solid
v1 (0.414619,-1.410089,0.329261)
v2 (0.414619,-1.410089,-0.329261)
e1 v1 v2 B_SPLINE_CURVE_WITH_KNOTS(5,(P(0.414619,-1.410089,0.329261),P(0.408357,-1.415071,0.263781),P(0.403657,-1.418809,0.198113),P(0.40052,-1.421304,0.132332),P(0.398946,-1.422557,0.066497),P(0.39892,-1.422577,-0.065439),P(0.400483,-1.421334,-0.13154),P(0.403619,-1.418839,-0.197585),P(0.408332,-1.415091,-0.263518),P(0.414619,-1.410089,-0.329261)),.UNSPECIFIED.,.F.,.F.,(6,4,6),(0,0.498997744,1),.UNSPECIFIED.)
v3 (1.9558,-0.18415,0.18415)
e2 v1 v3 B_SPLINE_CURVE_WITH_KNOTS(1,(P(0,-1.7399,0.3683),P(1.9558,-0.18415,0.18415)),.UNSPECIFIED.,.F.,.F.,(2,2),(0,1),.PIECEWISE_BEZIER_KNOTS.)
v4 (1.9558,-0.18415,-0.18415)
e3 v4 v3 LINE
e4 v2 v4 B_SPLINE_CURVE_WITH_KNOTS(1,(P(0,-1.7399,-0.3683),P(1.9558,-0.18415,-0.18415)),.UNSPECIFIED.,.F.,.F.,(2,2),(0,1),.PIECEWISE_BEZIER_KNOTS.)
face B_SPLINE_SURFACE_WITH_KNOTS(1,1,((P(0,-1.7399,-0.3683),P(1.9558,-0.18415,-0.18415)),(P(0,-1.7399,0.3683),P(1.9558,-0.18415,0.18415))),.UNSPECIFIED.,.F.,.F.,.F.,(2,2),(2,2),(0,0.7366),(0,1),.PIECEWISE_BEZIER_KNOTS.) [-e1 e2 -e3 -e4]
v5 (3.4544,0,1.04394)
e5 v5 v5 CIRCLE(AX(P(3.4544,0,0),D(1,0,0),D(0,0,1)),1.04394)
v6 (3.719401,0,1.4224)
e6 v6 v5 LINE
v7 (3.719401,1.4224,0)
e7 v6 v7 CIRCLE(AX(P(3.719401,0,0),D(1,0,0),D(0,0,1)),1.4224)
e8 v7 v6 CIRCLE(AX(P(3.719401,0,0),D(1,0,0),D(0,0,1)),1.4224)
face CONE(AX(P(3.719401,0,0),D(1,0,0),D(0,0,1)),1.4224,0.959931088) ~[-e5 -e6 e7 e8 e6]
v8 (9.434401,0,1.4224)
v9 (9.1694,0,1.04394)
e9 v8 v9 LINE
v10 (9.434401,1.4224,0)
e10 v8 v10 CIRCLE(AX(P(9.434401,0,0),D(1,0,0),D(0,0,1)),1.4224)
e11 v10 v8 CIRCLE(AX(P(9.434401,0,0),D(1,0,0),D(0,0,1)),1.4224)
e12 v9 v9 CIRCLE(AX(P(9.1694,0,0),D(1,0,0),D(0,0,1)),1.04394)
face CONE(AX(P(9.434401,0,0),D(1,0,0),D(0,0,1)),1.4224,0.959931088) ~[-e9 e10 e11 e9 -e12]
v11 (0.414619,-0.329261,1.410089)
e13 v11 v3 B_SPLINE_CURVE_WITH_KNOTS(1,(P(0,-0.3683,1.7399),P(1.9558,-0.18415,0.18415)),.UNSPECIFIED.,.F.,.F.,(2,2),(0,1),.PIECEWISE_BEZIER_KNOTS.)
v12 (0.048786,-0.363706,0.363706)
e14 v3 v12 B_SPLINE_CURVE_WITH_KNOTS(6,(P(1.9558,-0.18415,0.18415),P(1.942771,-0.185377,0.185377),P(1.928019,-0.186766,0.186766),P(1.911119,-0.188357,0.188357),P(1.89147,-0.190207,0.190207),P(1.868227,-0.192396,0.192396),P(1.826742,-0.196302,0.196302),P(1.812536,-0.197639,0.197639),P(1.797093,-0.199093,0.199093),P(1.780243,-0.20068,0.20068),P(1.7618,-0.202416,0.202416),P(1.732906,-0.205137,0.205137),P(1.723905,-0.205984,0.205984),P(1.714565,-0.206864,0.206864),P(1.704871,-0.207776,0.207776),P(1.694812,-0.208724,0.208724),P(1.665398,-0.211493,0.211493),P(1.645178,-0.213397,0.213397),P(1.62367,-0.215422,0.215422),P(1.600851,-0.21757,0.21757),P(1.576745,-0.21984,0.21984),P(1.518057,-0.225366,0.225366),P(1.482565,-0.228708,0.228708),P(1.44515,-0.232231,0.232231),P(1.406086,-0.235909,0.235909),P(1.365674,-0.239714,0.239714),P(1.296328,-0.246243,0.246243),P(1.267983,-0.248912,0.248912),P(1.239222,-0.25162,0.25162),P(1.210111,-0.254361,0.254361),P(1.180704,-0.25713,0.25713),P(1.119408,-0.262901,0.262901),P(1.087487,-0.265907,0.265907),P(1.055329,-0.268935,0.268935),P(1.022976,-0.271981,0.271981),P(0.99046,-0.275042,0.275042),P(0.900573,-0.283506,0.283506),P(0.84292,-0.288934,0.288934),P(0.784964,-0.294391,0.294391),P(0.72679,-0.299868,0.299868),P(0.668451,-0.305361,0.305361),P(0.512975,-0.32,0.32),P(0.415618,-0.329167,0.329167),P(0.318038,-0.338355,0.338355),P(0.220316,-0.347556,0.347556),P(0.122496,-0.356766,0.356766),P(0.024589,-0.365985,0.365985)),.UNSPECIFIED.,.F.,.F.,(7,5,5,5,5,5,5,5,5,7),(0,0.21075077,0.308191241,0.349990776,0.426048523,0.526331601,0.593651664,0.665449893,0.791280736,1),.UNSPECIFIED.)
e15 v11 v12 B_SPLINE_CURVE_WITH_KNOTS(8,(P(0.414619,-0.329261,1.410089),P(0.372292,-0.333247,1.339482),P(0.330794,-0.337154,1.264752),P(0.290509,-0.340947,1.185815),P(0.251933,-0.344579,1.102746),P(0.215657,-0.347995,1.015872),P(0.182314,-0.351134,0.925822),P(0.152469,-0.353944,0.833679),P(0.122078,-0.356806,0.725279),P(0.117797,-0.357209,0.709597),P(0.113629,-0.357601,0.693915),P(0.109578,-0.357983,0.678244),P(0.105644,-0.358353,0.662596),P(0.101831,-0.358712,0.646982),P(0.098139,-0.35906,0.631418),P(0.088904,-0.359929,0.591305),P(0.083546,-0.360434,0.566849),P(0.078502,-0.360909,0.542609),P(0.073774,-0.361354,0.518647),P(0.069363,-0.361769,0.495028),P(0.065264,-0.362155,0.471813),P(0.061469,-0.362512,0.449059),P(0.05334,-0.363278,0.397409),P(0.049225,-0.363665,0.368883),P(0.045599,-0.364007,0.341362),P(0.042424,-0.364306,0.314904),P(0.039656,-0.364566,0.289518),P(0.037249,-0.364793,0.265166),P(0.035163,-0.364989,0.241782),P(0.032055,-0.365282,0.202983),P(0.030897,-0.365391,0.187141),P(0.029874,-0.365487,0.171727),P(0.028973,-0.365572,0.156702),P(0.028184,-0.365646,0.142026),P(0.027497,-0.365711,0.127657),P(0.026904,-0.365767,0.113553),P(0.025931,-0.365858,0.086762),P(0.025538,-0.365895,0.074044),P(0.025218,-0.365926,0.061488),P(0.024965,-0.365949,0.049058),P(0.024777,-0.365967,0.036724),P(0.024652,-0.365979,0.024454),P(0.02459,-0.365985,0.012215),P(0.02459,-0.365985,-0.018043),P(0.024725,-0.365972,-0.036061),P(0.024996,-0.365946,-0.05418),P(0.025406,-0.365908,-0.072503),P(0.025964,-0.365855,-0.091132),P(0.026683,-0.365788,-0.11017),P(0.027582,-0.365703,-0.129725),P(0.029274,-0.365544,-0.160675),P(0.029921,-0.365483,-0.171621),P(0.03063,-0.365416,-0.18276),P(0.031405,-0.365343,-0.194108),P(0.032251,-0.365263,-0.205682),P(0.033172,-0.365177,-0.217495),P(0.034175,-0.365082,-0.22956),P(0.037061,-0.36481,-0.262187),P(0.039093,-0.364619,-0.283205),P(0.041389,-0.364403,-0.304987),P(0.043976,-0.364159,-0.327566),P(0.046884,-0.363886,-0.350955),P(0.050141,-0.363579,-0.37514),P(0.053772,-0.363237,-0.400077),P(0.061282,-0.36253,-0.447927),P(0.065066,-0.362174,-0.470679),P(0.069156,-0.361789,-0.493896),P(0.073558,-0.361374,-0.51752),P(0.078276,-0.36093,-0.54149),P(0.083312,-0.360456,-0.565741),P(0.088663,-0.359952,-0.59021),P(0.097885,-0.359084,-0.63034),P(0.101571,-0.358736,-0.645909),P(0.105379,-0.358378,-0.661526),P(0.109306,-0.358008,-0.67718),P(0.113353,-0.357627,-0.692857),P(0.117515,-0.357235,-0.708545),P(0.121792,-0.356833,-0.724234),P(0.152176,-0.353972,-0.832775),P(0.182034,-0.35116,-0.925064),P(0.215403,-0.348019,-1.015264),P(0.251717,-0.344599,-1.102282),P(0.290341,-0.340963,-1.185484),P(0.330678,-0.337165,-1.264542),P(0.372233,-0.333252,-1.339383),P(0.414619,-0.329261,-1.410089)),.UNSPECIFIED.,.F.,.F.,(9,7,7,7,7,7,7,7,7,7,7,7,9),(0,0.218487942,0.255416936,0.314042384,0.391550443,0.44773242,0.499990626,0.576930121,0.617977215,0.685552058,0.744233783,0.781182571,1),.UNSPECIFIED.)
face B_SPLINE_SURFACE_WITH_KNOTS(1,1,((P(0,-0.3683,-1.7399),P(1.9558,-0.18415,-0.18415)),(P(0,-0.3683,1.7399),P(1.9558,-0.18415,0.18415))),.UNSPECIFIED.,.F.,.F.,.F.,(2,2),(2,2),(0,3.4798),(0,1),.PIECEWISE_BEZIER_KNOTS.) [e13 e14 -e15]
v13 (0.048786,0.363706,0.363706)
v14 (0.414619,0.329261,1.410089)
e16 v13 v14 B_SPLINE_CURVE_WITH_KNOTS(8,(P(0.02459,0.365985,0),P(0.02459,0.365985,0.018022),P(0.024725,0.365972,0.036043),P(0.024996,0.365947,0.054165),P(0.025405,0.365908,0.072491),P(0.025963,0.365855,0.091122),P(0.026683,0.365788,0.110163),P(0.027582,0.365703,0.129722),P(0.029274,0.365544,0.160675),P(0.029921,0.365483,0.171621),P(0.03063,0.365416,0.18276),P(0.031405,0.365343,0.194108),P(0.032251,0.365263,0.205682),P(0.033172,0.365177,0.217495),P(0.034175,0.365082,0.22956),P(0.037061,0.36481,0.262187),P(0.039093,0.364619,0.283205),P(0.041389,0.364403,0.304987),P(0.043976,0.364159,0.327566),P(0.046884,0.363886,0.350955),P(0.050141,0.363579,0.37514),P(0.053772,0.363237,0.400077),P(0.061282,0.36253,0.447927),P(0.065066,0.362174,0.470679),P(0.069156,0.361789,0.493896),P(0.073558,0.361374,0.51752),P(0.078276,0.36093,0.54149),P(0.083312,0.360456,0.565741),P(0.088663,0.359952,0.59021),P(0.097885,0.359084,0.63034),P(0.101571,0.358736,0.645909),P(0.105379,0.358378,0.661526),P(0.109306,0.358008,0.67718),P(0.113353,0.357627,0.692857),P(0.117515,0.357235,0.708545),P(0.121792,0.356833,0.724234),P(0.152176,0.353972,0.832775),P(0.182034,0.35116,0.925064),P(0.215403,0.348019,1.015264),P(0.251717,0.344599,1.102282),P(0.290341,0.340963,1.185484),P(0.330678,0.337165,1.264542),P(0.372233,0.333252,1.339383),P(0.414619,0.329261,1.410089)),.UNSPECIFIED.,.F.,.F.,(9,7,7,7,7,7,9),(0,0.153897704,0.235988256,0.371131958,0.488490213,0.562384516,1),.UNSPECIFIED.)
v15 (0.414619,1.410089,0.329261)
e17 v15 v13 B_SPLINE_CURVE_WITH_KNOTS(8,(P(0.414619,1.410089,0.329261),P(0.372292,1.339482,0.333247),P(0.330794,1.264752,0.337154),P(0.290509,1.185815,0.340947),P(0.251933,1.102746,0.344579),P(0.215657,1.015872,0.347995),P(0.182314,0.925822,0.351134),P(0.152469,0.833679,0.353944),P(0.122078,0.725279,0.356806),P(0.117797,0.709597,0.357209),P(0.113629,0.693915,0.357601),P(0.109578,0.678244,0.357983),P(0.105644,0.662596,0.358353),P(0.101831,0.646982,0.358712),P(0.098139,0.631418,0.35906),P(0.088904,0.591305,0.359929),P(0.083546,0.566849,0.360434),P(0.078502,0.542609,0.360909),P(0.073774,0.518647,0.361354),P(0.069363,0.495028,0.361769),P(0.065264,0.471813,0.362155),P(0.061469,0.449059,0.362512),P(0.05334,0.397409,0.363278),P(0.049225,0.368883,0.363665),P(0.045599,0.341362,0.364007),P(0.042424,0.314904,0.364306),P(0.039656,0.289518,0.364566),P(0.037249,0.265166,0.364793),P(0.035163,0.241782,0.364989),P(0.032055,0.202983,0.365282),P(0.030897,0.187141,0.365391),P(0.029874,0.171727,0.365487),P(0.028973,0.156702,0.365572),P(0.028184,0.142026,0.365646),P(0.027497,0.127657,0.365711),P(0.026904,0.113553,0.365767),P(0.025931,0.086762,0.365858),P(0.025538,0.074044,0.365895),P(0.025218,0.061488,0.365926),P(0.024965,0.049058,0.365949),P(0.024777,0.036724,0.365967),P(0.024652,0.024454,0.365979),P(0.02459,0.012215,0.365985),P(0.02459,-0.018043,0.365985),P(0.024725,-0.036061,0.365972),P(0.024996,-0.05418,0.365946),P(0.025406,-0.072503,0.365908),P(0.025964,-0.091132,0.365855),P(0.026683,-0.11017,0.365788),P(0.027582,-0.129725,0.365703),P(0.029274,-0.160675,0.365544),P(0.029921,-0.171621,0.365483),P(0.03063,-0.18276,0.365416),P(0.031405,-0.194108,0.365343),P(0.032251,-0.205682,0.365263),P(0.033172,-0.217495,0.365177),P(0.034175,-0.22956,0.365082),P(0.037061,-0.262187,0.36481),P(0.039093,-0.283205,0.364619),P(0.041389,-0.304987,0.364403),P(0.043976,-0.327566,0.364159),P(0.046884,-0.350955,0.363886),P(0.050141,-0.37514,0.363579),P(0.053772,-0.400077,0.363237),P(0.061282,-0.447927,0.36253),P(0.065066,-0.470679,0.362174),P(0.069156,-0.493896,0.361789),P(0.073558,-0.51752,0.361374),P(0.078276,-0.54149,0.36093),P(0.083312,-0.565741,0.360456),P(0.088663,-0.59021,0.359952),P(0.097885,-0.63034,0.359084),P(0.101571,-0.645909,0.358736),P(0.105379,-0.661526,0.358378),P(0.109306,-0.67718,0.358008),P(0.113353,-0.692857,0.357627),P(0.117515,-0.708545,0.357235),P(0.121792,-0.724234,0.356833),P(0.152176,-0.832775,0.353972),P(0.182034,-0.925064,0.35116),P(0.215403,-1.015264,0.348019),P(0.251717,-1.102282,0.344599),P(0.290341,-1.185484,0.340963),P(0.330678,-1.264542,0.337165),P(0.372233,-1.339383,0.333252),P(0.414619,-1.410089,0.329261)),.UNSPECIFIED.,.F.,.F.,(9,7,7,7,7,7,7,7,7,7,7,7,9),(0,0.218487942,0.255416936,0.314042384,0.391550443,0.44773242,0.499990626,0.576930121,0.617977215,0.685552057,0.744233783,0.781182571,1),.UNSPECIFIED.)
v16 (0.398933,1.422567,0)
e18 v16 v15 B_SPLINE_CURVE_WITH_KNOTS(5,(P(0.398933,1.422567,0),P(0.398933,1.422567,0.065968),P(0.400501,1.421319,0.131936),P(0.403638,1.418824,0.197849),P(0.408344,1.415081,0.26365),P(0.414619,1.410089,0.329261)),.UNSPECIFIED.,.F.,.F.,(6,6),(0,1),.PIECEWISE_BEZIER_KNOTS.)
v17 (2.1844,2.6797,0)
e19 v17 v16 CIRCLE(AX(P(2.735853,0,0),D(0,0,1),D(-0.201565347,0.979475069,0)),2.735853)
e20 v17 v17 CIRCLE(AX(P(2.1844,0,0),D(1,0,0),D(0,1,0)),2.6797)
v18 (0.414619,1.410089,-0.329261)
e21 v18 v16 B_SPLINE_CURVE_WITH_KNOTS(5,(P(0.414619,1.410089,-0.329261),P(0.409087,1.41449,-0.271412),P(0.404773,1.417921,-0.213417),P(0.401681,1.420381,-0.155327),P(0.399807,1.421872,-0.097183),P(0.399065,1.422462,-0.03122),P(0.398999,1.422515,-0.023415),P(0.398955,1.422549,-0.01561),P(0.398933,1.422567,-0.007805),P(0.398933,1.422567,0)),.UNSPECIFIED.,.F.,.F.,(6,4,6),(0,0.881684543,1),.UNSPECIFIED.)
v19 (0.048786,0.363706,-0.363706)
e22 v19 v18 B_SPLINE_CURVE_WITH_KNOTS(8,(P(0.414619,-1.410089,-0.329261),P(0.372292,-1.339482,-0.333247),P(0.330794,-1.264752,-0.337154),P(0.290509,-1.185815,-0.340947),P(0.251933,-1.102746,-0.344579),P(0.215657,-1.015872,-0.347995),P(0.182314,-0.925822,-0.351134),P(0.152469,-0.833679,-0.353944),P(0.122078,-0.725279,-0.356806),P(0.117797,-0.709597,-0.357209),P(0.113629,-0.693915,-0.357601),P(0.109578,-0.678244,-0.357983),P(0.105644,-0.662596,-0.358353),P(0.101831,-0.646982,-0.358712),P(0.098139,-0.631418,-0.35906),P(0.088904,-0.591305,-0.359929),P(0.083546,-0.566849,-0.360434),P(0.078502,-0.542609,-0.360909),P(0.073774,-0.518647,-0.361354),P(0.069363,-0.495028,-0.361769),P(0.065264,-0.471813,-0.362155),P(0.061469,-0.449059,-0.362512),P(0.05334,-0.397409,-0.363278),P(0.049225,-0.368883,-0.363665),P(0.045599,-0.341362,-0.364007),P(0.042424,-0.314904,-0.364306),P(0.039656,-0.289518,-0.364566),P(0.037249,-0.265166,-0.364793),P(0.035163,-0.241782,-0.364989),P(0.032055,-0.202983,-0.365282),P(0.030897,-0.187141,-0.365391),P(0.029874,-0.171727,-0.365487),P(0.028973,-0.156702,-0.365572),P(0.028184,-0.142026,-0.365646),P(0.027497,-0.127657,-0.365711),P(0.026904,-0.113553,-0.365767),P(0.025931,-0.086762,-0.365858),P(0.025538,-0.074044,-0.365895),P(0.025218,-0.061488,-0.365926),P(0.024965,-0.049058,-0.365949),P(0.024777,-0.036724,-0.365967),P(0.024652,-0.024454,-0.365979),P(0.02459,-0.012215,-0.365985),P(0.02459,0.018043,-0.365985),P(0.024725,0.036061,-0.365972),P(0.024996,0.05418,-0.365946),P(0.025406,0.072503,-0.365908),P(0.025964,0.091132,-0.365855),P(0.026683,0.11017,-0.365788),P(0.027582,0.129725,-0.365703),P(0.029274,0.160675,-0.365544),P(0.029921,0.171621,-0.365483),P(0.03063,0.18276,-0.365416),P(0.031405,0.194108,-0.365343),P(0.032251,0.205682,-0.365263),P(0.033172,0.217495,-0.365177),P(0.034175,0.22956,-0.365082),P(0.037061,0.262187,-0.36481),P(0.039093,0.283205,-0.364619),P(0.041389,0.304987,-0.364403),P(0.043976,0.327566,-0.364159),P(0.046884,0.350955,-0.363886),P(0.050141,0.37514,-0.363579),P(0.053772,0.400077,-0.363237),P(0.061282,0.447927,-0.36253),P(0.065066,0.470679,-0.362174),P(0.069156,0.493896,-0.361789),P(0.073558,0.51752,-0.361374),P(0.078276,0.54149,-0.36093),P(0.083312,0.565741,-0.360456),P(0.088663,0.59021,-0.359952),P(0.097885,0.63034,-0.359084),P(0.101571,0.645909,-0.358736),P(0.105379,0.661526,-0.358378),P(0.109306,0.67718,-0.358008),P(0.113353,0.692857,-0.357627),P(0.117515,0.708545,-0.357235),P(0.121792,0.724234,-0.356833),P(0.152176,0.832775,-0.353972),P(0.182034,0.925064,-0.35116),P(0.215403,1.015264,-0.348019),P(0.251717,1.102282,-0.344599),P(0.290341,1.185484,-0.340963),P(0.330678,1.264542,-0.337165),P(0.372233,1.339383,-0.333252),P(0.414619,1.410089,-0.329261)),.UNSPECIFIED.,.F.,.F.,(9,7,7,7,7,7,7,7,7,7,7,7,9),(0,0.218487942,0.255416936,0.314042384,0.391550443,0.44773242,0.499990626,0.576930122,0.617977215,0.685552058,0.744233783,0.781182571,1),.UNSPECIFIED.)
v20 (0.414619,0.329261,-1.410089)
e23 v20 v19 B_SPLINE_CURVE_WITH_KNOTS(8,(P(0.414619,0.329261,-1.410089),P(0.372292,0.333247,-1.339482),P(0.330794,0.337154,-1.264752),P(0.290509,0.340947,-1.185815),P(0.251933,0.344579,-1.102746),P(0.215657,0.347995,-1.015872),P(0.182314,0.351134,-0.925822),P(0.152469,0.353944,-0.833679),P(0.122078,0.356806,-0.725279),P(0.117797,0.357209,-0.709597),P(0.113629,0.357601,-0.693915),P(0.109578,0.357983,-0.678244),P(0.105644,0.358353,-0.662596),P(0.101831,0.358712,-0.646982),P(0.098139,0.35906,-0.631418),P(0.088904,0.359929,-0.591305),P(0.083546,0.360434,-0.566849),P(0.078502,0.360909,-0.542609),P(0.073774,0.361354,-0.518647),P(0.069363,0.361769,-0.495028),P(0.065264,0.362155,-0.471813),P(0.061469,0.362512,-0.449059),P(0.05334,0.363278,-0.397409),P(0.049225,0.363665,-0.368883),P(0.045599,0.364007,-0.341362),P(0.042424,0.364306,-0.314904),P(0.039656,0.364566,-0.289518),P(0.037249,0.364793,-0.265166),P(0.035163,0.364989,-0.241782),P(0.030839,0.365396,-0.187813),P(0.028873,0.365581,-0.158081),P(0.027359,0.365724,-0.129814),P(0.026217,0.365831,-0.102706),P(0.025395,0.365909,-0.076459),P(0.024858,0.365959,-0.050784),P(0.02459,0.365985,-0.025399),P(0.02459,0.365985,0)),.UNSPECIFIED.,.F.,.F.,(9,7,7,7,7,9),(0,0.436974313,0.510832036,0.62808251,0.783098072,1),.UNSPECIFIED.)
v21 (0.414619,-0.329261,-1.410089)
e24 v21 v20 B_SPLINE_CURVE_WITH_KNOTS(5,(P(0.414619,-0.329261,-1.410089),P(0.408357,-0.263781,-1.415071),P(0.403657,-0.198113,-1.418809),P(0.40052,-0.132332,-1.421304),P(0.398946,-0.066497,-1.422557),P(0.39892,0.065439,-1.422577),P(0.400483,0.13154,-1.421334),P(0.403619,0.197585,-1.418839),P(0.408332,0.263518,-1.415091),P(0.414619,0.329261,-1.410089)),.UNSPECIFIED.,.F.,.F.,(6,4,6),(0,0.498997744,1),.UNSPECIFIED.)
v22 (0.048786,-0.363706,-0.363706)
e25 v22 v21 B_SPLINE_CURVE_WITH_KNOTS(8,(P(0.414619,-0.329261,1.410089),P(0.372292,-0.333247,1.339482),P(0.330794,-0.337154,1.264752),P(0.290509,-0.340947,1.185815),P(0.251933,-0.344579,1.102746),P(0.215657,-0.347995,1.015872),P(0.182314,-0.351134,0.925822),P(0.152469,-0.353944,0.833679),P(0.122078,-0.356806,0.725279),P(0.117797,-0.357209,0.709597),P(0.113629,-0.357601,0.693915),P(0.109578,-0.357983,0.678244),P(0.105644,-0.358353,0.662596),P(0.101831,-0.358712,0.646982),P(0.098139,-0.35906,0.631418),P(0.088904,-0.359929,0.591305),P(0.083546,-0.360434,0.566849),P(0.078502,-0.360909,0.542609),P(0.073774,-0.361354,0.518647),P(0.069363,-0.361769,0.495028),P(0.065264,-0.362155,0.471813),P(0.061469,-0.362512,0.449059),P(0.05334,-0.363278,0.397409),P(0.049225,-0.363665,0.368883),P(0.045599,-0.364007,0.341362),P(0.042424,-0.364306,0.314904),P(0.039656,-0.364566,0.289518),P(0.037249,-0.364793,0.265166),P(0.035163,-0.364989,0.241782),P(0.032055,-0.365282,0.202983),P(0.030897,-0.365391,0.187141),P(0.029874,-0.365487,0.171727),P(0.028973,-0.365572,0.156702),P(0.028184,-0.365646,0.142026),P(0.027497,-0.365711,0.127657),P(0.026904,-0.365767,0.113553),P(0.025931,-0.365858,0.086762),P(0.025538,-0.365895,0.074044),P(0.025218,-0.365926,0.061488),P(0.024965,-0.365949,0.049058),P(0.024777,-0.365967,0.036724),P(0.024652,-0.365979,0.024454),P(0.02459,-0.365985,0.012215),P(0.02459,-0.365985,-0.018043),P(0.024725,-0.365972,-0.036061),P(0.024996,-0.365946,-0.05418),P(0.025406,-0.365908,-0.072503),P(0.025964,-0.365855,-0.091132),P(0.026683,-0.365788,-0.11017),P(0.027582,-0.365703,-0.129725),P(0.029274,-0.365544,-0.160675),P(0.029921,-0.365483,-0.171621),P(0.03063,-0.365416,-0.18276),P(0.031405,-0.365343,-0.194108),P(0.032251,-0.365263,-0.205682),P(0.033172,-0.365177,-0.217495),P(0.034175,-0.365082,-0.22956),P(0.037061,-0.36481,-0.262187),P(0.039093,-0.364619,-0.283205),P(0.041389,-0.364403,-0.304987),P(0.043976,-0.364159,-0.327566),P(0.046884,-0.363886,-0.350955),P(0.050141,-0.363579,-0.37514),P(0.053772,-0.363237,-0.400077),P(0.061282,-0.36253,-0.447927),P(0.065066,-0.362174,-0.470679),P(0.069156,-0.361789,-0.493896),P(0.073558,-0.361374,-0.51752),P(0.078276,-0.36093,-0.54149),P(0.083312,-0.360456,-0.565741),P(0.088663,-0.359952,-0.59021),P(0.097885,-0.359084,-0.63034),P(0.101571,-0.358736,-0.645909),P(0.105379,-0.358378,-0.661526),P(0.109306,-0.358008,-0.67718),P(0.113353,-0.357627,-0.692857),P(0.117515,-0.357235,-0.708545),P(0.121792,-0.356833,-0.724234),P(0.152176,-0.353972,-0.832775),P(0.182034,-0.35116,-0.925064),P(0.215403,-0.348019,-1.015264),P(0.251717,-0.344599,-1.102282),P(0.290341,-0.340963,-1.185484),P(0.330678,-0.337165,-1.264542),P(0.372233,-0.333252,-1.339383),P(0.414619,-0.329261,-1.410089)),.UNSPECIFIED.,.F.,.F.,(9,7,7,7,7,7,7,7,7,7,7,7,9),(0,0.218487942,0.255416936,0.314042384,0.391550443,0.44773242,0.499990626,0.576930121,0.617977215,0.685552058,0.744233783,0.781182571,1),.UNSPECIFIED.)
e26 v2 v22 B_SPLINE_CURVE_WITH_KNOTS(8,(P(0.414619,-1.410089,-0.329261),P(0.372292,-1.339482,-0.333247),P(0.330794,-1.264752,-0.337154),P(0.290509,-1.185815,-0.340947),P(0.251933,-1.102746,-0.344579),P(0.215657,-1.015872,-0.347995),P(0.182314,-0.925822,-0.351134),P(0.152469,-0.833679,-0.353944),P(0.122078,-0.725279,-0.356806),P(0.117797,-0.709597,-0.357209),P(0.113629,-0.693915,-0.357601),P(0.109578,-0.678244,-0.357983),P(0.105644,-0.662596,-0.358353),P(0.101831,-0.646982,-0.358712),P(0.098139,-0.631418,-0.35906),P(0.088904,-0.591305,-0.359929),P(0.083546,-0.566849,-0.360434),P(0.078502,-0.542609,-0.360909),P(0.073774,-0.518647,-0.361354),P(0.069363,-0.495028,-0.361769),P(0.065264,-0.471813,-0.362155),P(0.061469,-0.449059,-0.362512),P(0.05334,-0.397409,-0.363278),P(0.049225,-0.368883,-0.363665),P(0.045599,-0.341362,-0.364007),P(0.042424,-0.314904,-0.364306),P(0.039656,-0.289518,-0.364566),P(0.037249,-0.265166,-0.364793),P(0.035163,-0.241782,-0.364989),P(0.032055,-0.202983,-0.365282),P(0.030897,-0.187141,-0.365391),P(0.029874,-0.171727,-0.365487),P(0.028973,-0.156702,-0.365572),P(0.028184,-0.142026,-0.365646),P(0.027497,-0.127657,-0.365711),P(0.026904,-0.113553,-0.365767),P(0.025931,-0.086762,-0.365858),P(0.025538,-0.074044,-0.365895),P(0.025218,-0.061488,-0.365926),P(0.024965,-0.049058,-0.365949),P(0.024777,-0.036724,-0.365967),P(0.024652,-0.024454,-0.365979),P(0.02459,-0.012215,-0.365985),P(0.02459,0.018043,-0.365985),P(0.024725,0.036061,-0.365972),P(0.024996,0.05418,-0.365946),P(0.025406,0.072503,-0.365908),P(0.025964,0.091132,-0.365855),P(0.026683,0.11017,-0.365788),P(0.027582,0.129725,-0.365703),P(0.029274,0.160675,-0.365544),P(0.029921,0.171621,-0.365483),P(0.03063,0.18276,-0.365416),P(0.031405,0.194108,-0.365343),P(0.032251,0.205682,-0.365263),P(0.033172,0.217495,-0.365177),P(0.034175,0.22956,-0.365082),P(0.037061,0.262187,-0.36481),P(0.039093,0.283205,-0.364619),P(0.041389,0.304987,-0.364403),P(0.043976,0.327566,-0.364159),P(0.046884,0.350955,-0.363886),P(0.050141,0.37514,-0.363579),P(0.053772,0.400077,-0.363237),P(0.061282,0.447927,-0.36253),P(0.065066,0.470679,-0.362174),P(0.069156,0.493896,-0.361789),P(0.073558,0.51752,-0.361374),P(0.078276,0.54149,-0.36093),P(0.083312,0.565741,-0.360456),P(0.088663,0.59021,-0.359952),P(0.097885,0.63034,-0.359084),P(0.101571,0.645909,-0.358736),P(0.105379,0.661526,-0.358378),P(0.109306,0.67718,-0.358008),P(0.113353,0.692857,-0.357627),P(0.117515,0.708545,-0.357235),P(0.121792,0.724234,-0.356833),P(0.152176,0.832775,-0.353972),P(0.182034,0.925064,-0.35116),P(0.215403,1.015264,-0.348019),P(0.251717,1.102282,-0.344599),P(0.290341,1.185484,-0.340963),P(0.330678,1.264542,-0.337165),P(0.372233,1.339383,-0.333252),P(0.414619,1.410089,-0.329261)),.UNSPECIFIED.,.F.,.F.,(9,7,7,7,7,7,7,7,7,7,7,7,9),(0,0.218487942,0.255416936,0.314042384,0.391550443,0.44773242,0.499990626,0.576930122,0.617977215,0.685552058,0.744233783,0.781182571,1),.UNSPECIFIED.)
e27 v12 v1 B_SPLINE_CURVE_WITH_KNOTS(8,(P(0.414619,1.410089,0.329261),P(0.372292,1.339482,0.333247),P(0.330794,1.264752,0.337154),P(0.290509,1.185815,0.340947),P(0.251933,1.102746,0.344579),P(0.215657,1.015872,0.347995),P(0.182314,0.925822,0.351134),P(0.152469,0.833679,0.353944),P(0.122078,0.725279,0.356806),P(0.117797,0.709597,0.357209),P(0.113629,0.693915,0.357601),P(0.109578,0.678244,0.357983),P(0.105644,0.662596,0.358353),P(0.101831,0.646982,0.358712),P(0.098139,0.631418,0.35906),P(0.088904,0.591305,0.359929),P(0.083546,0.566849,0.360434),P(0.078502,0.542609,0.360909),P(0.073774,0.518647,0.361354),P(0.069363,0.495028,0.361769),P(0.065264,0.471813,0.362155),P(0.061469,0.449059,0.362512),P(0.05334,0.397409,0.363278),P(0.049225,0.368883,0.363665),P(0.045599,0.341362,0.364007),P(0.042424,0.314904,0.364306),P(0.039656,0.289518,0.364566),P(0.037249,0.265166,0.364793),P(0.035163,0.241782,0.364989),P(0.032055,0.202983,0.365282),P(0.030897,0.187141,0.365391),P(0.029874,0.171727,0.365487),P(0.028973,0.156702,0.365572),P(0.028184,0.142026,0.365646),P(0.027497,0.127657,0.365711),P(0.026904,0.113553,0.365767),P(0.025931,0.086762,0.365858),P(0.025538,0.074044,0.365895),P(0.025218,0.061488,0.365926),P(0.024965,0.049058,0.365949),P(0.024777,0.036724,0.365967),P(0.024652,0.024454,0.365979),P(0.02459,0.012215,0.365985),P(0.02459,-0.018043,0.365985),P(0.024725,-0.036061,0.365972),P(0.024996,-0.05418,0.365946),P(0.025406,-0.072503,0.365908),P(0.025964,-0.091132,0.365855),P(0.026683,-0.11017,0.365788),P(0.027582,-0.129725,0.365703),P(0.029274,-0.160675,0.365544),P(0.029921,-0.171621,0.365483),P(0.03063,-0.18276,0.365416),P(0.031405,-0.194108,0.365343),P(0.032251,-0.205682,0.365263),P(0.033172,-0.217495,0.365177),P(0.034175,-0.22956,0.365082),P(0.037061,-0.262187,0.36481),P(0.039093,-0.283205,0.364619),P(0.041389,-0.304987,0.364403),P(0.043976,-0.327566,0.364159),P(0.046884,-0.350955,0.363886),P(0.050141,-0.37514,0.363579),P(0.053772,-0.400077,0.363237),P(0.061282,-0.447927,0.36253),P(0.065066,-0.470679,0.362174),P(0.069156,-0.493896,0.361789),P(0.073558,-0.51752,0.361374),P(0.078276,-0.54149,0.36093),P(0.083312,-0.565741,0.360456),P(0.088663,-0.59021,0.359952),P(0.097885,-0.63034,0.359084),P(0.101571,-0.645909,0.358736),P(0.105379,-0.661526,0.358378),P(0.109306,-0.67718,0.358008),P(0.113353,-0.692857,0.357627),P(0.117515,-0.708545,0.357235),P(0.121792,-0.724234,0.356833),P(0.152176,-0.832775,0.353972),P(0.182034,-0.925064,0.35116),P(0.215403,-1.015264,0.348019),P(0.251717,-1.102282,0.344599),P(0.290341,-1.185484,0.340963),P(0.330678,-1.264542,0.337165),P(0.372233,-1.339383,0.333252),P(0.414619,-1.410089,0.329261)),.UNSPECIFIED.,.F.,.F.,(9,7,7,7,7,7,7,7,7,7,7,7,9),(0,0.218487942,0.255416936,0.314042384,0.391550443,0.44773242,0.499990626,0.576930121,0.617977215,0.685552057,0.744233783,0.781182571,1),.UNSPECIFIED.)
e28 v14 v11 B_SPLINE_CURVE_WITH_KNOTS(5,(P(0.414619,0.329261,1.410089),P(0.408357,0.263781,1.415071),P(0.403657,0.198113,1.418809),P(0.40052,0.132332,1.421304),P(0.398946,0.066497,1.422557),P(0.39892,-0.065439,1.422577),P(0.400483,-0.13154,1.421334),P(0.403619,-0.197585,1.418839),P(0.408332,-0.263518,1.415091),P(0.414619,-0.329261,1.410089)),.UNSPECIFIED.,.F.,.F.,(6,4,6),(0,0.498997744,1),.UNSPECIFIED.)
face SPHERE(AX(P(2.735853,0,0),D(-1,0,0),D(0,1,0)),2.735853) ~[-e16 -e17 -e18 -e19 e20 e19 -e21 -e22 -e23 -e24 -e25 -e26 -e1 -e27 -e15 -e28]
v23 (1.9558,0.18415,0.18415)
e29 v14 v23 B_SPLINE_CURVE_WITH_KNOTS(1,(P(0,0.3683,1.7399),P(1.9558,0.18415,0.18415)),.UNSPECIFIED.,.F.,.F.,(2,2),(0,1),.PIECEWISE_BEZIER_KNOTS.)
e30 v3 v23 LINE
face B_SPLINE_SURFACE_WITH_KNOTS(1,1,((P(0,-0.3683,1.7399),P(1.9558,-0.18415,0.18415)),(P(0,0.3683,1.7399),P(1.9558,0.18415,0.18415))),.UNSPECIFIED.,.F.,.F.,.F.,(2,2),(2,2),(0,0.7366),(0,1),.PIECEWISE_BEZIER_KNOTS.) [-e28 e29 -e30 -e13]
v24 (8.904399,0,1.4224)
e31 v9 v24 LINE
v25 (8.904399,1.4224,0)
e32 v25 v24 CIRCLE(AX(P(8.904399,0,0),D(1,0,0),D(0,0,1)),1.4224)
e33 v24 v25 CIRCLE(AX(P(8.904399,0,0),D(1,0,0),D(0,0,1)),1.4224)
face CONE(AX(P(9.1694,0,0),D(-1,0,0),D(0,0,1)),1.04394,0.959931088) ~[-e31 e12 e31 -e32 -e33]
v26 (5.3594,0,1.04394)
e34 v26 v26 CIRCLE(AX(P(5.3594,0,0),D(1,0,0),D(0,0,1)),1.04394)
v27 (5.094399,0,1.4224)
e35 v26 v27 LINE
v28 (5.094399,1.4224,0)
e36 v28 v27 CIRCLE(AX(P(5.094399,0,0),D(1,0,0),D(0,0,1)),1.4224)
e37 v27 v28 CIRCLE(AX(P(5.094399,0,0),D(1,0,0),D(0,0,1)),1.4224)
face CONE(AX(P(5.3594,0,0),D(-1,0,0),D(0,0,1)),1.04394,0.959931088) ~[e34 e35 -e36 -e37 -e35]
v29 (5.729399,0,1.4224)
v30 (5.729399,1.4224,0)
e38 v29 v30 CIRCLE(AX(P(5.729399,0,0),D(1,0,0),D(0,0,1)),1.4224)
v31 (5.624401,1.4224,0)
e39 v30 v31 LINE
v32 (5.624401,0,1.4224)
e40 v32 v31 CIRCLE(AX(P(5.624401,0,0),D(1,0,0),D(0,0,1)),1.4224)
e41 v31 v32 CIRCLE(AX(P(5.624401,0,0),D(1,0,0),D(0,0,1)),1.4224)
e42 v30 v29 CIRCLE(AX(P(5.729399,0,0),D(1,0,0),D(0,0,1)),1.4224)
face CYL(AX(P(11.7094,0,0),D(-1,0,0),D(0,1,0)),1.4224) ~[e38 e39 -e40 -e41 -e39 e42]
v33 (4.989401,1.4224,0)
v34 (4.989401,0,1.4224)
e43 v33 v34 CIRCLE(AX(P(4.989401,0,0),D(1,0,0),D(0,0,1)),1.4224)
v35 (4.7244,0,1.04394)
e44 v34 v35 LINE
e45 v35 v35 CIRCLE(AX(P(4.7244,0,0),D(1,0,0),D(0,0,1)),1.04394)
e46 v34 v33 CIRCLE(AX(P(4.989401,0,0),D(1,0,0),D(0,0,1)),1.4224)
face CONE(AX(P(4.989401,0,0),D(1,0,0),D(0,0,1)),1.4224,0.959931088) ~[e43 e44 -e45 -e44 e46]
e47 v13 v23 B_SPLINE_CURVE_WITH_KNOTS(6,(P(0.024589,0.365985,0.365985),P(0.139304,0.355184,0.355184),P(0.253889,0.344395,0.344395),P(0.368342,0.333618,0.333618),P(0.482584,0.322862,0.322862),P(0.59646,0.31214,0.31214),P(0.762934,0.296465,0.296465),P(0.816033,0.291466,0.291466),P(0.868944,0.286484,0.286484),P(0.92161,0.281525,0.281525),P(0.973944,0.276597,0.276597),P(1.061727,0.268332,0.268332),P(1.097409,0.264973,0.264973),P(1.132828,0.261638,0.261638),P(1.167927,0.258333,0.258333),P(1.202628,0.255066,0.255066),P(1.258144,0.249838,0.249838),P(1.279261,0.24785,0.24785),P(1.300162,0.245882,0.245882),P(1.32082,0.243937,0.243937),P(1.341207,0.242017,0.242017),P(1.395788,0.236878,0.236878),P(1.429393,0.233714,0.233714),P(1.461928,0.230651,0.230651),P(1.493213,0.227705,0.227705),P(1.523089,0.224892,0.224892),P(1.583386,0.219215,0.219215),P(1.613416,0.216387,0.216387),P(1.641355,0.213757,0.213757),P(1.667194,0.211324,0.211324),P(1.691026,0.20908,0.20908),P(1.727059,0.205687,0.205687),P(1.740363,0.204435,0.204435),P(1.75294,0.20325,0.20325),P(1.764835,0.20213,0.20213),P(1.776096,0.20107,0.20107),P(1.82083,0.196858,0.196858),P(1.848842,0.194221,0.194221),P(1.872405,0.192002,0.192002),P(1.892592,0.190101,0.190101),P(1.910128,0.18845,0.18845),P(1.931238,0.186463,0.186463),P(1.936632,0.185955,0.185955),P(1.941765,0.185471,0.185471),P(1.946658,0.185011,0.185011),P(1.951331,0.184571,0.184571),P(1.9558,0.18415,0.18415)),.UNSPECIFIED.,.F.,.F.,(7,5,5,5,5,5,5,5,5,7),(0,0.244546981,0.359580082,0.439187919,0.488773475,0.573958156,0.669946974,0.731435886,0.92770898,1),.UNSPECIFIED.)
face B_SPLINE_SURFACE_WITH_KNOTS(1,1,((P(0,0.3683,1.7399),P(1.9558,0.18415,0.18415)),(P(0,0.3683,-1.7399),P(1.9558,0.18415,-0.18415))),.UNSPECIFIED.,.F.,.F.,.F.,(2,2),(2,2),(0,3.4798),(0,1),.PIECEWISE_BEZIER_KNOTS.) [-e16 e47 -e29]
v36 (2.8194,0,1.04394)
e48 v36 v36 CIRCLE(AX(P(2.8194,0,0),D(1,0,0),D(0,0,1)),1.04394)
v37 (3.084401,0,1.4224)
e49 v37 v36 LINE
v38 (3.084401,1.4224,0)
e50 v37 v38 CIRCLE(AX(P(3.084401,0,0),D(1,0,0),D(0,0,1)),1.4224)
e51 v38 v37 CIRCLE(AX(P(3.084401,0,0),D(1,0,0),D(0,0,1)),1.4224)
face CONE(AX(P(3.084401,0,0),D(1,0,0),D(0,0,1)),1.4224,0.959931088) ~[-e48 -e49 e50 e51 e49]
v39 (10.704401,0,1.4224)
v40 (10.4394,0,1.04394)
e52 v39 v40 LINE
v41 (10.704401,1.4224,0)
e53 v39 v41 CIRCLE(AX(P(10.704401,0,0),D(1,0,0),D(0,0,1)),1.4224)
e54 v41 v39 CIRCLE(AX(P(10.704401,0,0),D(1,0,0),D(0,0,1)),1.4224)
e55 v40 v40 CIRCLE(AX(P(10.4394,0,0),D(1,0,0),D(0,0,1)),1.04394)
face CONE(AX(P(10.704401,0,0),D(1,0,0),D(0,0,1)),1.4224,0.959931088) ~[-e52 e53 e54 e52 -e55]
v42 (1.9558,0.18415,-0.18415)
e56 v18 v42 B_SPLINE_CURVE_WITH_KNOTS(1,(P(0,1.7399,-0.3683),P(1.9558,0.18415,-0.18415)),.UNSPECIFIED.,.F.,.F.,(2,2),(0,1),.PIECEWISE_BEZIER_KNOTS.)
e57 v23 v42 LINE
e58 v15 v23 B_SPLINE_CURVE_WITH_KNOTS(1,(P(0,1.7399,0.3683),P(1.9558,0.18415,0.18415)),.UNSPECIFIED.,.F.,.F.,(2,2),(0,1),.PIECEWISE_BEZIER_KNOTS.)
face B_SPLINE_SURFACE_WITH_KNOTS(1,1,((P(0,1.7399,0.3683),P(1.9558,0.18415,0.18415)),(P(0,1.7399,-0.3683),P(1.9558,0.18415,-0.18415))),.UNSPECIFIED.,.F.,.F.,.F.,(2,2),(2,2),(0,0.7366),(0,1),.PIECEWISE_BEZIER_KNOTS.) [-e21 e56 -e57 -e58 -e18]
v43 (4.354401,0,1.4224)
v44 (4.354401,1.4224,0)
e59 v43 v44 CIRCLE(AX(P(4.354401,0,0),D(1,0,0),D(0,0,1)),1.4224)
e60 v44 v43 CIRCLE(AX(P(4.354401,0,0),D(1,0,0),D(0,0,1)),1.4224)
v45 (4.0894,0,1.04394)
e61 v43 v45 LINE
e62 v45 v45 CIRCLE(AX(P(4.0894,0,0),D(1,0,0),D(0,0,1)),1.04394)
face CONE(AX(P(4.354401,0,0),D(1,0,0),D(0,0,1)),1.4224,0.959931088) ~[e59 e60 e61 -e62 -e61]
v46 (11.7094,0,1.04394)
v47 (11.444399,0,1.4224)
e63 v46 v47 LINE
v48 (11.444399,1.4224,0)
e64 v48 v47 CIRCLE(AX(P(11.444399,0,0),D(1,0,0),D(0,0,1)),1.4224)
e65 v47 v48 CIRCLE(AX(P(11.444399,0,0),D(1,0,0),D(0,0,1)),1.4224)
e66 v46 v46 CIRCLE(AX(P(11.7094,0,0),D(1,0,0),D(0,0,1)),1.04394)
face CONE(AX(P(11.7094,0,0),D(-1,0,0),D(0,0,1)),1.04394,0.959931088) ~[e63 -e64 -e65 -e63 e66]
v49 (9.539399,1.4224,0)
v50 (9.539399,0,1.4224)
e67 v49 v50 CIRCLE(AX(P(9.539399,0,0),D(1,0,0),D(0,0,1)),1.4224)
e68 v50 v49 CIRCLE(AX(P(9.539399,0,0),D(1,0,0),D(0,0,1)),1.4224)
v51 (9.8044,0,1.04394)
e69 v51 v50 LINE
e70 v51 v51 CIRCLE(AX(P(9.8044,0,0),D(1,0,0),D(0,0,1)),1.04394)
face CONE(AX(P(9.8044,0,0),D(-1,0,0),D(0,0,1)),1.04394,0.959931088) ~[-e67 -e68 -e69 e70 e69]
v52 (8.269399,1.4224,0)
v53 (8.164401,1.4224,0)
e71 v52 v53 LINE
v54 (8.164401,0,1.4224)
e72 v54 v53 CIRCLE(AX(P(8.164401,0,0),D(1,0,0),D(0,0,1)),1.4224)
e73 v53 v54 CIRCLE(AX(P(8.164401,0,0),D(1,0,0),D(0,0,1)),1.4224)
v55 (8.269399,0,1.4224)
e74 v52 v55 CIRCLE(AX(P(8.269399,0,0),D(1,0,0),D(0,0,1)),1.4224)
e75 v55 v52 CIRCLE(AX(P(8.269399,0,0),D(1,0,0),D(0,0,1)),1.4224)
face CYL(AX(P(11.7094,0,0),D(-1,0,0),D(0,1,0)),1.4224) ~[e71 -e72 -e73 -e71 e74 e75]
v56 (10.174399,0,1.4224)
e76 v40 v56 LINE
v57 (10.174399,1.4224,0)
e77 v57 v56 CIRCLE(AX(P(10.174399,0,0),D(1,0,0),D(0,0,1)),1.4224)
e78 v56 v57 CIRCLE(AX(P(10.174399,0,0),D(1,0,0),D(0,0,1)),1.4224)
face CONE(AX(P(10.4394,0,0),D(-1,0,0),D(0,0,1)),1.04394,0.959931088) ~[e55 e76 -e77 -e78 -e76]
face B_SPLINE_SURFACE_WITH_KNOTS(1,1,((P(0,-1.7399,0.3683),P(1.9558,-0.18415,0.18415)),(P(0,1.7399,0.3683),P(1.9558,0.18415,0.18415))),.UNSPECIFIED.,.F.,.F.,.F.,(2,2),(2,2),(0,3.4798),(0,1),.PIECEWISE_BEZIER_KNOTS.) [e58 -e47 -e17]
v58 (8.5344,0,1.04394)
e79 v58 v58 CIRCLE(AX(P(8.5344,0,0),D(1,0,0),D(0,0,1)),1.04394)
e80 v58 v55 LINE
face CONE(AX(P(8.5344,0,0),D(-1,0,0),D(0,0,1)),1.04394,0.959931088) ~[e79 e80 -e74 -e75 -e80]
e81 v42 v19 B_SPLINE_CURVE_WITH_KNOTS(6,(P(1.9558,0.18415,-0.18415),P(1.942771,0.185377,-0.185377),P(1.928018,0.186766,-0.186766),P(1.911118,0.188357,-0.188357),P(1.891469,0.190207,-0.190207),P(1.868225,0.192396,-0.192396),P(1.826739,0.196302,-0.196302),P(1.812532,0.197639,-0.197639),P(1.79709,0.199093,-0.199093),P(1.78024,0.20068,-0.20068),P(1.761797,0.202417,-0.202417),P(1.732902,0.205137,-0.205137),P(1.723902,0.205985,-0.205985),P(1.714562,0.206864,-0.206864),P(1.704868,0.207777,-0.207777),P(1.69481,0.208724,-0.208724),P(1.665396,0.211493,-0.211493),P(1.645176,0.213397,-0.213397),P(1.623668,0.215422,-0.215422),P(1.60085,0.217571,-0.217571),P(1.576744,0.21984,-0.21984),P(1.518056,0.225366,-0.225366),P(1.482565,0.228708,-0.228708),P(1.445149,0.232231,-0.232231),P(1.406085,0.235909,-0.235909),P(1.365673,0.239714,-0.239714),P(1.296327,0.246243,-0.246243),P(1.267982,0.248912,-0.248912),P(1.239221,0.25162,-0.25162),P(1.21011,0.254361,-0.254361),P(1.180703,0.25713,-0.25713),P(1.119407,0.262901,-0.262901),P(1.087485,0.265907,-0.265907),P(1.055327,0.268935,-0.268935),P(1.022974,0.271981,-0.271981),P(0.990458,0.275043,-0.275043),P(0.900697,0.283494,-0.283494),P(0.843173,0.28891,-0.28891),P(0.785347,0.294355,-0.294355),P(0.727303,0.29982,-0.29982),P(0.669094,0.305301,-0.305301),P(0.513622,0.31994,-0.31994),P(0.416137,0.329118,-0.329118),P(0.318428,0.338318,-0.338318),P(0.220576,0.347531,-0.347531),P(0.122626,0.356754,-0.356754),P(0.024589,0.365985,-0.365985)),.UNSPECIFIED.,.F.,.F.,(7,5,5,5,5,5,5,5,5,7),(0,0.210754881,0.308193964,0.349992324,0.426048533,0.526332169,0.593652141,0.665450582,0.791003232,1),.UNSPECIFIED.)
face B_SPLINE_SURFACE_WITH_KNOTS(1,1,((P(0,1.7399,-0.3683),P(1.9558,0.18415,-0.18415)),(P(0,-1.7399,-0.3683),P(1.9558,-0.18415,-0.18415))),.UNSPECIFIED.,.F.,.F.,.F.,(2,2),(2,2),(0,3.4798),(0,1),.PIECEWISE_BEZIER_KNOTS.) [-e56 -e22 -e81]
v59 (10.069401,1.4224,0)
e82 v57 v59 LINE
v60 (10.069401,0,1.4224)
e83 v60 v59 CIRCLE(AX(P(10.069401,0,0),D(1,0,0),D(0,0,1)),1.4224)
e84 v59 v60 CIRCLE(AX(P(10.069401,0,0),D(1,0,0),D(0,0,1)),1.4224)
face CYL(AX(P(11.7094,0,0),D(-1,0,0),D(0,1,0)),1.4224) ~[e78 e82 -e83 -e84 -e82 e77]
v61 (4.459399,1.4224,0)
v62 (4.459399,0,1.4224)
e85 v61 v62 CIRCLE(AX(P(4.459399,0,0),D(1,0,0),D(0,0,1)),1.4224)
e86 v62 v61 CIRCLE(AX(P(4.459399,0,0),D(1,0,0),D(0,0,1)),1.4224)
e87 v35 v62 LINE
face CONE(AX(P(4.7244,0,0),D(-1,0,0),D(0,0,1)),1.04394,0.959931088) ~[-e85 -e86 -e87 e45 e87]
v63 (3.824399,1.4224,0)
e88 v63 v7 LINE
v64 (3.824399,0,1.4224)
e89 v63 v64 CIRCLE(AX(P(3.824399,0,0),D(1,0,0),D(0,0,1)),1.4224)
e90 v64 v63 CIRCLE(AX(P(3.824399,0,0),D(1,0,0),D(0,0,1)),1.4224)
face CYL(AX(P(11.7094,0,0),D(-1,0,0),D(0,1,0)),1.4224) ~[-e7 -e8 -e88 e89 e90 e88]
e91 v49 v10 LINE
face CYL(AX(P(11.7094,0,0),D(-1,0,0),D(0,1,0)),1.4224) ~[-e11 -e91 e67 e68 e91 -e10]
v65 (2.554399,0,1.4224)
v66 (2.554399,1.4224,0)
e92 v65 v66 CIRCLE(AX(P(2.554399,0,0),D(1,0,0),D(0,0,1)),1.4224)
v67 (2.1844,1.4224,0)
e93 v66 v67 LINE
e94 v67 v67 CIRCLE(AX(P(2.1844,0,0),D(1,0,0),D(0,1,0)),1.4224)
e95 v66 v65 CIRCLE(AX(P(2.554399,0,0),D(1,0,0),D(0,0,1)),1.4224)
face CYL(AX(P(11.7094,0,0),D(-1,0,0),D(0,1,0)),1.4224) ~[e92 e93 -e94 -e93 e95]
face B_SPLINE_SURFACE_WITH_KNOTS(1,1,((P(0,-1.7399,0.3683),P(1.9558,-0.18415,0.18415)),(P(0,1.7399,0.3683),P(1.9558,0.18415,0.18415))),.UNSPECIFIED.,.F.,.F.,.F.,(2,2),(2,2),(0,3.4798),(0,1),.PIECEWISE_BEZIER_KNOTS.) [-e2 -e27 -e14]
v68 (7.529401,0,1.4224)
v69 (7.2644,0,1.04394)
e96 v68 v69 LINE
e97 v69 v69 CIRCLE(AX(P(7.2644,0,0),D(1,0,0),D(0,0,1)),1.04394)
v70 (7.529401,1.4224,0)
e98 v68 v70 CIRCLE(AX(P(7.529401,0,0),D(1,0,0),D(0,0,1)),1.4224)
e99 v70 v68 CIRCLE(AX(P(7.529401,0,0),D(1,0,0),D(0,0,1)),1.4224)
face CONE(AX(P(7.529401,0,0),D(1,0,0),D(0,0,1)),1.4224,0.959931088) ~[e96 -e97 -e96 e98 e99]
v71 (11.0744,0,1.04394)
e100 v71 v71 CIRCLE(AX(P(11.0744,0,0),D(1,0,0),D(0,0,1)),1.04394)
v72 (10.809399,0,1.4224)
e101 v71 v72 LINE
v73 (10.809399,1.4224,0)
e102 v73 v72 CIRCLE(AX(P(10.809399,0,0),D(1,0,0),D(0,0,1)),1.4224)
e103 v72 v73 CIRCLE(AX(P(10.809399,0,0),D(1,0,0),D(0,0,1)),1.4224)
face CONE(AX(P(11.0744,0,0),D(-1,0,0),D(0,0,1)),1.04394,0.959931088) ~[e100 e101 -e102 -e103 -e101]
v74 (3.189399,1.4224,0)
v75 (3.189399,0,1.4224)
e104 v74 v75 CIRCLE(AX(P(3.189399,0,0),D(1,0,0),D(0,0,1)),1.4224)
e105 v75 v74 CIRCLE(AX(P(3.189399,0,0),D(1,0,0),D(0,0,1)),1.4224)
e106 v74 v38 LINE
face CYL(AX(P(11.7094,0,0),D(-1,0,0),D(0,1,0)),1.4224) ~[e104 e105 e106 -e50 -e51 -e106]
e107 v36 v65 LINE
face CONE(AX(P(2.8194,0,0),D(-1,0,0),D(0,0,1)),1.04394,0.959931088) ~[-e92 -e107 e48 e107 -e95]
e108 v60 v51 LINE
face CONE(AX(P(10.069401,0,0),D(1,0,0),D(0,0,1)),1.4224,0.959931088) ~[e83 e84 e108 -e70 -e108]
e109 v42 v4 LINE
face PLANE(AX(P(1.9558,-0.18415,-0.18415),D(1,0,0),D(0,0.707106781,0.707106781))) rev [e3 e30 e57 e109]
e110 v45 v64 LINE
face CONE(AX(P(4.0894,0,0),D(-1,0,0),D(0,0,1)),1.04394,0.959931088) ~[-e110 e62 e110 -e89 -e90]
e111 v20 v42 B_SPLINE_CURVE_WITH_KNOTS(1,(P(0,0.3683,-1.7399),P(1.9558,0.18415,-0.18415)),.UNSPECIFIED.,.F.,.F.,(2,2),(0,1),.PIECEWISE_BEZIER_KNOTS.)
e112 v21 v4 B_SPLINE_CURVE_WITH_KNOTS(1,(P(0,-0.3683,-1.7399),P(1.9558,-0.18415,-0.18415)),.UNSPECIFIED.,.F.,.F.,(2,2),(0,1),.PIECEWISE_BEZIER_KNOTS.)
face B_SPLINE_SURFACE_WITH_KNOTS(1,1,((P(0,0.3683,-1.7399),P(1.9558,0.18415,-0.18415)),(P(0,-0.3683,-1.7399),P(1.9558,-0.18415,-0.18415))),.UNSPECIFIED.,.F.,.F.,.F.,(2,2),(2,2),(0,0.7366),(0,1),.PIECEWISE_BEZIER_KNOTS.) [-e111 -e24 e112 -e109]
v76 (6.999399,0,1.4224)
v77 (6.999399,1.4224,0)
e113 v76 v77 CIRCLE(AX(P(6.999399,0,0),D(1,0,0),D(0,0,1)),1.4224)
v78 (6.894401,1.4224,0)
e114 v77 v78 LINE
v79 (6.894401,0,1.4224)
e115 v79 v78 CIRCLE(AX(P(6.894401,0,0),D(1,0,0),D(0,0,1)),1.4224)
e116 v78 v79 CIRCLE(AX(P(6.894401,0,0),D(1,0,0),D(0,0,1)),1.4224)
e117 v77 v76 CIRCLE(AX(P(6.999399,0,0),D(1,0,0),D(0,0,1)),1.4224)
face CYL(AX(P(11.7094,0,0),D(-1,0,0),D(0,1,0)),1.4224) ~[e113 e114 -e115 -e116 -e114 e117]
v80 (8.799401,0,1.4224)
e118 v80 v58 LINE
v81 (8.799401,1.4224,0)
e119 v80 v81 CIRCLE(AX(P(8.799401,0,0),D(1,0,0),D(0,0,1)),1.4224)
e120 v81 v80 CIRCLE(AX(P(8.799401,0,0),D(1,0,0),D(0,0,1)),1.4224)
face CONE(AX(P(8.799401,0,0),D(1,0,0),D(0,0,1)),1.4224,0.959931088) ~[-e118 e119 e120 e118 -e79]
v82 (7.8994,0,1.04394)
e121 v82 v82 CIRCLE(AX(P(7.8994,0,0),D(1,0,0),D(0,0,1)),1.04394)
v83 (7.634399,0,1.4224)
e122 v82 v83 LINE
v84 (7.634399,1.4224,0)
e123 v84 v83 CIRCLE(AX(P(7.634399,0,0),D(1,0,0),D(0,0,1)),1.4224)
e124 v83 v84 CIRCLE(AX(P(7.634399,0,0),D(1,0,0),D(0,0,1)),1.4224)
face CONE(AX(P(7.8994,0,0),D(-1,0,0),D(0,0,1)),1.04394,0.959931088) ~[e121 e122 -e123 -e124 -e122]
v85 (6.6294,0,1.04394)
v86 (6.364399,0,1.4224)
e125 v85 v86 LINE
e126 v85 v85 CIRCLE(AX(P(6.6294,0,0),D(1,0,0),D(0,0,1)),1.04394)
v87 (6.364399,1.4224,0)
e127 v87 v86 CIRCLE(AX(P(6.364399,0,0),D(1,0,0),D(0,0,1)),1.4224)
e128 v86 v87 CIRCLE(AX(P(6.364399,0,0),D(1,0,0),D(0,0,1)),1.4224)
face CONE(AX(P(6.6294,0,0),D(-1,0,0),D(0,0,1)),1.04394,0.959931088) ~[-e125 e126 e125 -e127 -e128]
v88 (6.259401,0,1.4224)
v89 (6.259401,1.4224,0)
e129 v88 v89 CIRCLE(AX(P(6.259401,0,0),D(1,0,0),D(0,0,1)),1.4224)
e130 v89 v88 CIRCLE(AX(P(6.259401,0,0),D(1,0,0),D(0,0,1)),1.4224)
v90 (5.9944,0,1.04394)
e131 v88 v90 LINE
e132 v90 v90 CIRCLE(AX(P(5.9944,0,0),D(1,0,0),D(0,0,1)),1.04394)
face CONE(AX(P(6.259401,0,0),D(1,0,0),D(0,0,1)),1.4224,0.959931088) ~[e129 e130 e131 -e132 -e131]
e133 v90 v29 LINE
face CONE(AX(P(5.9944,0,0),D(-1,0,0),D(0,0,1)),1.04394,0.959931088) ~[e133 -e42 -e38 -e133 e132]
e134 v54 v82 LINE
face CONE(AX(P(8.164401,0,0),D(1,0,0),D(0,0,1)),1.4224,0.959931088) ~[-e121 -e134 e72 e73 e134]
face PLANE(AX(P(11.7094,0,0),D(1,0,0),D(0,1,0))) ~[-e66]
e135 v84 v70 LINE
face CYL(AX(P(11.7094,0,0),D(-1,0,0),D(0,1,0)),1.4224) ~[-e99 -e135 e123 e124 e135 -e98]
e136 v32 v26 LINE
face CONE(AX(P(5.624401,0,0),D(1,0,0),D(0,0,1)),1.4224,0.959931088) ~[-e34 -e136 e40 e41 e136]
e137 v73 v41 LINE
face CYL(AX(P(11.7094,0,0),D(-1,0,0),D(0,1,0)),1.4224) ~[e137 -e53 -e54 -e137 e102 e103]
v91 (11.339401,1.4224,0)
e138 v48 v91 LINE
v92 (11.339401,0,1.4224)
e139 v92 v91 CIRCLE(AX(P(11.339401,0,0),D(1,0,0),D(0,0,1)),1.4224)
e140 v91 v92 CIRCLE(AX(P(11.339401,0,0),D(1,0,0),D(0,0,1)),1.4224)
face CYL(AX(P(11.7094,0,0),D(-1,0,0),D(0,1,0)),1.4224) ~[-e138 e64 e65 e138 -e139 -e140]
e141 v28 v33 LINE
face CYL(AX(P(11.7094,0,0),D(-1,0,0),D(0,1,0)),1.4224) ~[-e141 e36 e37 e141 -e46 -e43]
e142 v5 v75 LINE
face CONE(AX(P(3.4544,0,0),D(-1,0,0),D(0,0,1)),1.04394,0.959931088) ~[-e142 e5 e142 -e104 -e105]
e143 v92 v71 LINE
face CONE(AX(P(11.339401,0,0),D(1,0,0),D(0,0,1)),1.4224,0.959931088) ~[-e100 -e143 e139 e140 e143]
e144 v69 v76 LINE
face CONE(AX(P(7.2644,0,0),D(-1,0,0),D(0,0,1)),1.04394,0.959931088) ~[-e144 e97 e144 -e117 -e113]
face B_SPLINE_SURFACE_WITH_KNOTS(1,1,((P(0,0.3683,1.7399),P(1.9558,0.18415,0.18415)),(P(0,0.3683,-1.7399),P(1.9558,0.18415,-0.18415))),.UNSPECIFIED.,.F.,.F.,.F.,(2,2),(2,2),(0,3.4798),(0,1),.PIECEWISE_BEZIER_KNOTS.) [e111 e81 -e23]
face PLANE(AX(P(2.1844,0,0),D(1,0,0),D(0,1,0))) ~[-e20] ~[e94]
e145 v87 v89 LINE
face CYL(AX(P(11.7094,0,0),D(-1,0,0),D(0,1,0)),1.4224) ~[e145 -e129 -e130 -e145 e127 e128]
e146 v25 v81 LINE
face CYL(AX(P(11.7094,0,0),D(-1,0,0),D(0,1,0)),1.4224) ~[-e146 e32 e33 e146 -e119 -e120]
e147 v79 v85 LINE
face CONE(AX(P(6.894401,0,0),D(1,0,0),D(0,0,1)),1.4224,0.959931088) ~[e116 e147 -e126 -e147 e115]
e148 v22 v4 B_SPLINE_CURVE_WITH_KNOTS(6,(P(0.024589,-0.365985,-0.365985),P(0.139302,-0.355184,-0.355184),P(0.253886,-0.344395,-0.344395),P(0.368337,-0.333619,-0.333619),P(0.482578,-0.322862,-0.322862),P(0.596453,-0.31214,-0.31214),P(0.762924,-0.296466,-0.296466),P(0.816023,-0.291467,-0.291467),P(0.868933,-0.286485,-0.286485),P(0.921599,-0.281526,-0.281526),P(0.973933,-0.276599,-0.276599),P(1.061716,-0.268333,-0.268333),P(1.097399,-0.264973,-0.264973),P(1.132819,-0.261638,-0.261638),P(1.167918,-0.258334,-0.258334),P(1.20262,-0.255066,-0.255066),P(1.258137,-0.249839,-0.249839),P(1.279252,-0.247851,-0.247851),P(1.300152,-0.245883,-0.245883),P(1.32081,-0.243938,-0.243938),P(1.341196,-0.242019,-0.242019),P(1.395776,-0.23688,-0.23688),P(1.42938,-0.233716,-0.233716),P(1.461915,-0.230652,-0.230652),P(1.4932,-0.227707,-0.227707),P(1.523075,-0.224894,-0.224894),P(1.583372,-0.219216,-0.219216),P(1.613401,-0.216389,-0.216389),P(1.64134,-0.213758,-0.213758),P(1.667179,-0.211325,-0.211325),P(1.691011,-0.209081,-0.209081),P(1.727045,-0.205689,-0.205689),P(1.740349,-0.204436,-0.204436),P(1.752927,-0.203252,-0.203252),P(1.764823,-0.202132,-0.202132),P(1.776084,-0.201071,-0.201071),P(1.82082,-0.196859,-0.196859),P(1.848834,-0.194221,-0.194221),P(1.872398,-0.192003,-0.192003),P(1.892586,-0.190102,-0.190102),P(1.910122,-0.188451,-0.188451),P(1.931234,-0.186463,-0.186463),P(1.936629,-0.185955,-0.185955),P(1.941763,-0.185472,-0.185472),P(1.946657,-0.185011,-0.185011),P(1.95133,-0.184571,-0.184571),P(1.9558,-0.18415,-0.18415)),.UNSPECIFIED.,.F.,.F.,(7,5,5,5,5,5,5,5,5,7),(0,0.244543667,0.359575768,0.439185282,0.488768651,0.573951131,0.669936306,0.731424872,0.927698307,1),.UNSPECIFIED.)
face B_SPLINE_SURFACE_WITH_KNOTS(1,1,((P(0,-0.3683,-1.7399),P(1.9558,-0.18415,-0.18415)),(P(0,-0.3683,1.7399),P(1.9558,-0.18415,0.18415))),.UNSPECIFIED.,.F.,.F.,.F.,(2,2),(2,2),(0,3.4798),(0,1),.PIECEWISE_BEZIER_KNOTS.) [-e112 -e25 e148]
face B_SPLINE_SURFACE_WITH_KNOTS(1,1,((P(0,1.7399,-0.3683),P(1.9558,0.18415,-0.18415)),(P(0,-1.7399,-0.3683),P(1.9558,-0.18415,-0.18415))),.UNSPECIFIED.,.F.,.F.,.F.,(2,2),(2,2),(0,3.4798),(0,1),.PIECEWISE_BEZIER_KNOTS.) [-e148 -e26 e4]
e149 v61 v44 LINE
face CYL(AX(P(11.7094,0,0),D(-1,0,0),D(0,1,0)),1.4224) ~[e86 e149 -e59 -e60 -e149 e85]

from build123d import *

# Parameters (mm, degrees)
CIRPATTERN1_COUNT = 2
CIRPATTERN1_ANGLE = 90
THDSCHPAT_COUNT   = 15
THDSCHPAT_PITCH   = 0.635


with BuildPart() as part:
    # BodySke → Base-Revolve (revolve)
    with BuildSketch(Plane.XY):
        with BuildLine():
            Line((11.7094, 0), (11.7094, 1.4224))
            Line((11.7094, 1.4224), (2.1844, 1.4224))
            Line((2.1844, 1.4224), (2.1844, 2.6797))
            ThreePointArc((2.1844, 2.6797), (0.615288684, 1.728611831), (0, 0))
            Line((0, 0), (11.7094, 0))
        make_face()
    revolve(axis=Axis((0, 0, 0), (1, 0, 0)))

    # Sketch3 → Cross section 0
    with BuildSketch(Plane(origin=(0, 0, 0), x_dir=(0, 0, -1), z_dir=(1, 0, 0))):
        with BuildLine():
            Line((0.3683, -1.7399), (-0.3683, -1.7399))
            Line((-0.3683, -1.7399), (-0.3683, 1.7399))
            Line((-0.3683, 1.7399), (0.3683, 1.7399))
            Line((0.3683, 1.7399), (0.3683, -1.7399))
        make_face()
    # Sketch4 → Cross section 1
    with BuildSketch(Plane(origin=(1.9558, 0, 0), x_dir=(0, 0, -1), z_dir=(1, 0, 0))):
        with BuildLine():
            Line((0.18415, -0.18415), (-0.18415, -0.18415))
            Line((-0.18415, -0.18415), (-0.18415, 0.18415))
            Line((-0.18415, 0.18415), (0.18415, 0.18415))
            Line((0.18415, 0.18415), (0.18415, -0.18415))
        make_face()
    cross = loft(mode=Mode.SUBTRACT)

    # CirPattern1: Cross ×2 about axis
    cirpattern1_axis = Axis((0, 0, 0), (1, 0, 0))
    for i in range(1, CIRPATTERN1_COUNT):
        add(cross.rotate(cirpattern1_axis, i * CIRPATTERN1_ANGLE / (CIRPATTERN1_COUNT - 1)), mode=Mode.SUBTRACT)

    # ThdSchSke → ThreadSchematic (revolve, cut)
    with BuildSketch(Plane.XY, mode=Mode.PRIVATE) as threadschematic_sk:
        Polygon((2.8194, -1.04394), (2.554399455, -1.4224), (2.554399455, -1.778), (3.084400545, -1.778), (3.084400545, -1.4224), align=None)
    threadschematic = revolve(threadschematic_sk.sketch.rotate(Axis((-3.175, 0, 0), (1, 0, 0)), 270), axis=Axis((-3.175, 0, 0), (1, 0, 0)), mode=Mode.SUBTRACT)

    # ThdSchPat: ThreadSchematic ×15
    with Locations(*[(i * THDSCHPAT_PITCH, 0, 0) for i in range(1, THDSCHPAT_COUNT)]):
        add(threadschematic, mode=Mode.SUBTRACT)


solid = part.part
